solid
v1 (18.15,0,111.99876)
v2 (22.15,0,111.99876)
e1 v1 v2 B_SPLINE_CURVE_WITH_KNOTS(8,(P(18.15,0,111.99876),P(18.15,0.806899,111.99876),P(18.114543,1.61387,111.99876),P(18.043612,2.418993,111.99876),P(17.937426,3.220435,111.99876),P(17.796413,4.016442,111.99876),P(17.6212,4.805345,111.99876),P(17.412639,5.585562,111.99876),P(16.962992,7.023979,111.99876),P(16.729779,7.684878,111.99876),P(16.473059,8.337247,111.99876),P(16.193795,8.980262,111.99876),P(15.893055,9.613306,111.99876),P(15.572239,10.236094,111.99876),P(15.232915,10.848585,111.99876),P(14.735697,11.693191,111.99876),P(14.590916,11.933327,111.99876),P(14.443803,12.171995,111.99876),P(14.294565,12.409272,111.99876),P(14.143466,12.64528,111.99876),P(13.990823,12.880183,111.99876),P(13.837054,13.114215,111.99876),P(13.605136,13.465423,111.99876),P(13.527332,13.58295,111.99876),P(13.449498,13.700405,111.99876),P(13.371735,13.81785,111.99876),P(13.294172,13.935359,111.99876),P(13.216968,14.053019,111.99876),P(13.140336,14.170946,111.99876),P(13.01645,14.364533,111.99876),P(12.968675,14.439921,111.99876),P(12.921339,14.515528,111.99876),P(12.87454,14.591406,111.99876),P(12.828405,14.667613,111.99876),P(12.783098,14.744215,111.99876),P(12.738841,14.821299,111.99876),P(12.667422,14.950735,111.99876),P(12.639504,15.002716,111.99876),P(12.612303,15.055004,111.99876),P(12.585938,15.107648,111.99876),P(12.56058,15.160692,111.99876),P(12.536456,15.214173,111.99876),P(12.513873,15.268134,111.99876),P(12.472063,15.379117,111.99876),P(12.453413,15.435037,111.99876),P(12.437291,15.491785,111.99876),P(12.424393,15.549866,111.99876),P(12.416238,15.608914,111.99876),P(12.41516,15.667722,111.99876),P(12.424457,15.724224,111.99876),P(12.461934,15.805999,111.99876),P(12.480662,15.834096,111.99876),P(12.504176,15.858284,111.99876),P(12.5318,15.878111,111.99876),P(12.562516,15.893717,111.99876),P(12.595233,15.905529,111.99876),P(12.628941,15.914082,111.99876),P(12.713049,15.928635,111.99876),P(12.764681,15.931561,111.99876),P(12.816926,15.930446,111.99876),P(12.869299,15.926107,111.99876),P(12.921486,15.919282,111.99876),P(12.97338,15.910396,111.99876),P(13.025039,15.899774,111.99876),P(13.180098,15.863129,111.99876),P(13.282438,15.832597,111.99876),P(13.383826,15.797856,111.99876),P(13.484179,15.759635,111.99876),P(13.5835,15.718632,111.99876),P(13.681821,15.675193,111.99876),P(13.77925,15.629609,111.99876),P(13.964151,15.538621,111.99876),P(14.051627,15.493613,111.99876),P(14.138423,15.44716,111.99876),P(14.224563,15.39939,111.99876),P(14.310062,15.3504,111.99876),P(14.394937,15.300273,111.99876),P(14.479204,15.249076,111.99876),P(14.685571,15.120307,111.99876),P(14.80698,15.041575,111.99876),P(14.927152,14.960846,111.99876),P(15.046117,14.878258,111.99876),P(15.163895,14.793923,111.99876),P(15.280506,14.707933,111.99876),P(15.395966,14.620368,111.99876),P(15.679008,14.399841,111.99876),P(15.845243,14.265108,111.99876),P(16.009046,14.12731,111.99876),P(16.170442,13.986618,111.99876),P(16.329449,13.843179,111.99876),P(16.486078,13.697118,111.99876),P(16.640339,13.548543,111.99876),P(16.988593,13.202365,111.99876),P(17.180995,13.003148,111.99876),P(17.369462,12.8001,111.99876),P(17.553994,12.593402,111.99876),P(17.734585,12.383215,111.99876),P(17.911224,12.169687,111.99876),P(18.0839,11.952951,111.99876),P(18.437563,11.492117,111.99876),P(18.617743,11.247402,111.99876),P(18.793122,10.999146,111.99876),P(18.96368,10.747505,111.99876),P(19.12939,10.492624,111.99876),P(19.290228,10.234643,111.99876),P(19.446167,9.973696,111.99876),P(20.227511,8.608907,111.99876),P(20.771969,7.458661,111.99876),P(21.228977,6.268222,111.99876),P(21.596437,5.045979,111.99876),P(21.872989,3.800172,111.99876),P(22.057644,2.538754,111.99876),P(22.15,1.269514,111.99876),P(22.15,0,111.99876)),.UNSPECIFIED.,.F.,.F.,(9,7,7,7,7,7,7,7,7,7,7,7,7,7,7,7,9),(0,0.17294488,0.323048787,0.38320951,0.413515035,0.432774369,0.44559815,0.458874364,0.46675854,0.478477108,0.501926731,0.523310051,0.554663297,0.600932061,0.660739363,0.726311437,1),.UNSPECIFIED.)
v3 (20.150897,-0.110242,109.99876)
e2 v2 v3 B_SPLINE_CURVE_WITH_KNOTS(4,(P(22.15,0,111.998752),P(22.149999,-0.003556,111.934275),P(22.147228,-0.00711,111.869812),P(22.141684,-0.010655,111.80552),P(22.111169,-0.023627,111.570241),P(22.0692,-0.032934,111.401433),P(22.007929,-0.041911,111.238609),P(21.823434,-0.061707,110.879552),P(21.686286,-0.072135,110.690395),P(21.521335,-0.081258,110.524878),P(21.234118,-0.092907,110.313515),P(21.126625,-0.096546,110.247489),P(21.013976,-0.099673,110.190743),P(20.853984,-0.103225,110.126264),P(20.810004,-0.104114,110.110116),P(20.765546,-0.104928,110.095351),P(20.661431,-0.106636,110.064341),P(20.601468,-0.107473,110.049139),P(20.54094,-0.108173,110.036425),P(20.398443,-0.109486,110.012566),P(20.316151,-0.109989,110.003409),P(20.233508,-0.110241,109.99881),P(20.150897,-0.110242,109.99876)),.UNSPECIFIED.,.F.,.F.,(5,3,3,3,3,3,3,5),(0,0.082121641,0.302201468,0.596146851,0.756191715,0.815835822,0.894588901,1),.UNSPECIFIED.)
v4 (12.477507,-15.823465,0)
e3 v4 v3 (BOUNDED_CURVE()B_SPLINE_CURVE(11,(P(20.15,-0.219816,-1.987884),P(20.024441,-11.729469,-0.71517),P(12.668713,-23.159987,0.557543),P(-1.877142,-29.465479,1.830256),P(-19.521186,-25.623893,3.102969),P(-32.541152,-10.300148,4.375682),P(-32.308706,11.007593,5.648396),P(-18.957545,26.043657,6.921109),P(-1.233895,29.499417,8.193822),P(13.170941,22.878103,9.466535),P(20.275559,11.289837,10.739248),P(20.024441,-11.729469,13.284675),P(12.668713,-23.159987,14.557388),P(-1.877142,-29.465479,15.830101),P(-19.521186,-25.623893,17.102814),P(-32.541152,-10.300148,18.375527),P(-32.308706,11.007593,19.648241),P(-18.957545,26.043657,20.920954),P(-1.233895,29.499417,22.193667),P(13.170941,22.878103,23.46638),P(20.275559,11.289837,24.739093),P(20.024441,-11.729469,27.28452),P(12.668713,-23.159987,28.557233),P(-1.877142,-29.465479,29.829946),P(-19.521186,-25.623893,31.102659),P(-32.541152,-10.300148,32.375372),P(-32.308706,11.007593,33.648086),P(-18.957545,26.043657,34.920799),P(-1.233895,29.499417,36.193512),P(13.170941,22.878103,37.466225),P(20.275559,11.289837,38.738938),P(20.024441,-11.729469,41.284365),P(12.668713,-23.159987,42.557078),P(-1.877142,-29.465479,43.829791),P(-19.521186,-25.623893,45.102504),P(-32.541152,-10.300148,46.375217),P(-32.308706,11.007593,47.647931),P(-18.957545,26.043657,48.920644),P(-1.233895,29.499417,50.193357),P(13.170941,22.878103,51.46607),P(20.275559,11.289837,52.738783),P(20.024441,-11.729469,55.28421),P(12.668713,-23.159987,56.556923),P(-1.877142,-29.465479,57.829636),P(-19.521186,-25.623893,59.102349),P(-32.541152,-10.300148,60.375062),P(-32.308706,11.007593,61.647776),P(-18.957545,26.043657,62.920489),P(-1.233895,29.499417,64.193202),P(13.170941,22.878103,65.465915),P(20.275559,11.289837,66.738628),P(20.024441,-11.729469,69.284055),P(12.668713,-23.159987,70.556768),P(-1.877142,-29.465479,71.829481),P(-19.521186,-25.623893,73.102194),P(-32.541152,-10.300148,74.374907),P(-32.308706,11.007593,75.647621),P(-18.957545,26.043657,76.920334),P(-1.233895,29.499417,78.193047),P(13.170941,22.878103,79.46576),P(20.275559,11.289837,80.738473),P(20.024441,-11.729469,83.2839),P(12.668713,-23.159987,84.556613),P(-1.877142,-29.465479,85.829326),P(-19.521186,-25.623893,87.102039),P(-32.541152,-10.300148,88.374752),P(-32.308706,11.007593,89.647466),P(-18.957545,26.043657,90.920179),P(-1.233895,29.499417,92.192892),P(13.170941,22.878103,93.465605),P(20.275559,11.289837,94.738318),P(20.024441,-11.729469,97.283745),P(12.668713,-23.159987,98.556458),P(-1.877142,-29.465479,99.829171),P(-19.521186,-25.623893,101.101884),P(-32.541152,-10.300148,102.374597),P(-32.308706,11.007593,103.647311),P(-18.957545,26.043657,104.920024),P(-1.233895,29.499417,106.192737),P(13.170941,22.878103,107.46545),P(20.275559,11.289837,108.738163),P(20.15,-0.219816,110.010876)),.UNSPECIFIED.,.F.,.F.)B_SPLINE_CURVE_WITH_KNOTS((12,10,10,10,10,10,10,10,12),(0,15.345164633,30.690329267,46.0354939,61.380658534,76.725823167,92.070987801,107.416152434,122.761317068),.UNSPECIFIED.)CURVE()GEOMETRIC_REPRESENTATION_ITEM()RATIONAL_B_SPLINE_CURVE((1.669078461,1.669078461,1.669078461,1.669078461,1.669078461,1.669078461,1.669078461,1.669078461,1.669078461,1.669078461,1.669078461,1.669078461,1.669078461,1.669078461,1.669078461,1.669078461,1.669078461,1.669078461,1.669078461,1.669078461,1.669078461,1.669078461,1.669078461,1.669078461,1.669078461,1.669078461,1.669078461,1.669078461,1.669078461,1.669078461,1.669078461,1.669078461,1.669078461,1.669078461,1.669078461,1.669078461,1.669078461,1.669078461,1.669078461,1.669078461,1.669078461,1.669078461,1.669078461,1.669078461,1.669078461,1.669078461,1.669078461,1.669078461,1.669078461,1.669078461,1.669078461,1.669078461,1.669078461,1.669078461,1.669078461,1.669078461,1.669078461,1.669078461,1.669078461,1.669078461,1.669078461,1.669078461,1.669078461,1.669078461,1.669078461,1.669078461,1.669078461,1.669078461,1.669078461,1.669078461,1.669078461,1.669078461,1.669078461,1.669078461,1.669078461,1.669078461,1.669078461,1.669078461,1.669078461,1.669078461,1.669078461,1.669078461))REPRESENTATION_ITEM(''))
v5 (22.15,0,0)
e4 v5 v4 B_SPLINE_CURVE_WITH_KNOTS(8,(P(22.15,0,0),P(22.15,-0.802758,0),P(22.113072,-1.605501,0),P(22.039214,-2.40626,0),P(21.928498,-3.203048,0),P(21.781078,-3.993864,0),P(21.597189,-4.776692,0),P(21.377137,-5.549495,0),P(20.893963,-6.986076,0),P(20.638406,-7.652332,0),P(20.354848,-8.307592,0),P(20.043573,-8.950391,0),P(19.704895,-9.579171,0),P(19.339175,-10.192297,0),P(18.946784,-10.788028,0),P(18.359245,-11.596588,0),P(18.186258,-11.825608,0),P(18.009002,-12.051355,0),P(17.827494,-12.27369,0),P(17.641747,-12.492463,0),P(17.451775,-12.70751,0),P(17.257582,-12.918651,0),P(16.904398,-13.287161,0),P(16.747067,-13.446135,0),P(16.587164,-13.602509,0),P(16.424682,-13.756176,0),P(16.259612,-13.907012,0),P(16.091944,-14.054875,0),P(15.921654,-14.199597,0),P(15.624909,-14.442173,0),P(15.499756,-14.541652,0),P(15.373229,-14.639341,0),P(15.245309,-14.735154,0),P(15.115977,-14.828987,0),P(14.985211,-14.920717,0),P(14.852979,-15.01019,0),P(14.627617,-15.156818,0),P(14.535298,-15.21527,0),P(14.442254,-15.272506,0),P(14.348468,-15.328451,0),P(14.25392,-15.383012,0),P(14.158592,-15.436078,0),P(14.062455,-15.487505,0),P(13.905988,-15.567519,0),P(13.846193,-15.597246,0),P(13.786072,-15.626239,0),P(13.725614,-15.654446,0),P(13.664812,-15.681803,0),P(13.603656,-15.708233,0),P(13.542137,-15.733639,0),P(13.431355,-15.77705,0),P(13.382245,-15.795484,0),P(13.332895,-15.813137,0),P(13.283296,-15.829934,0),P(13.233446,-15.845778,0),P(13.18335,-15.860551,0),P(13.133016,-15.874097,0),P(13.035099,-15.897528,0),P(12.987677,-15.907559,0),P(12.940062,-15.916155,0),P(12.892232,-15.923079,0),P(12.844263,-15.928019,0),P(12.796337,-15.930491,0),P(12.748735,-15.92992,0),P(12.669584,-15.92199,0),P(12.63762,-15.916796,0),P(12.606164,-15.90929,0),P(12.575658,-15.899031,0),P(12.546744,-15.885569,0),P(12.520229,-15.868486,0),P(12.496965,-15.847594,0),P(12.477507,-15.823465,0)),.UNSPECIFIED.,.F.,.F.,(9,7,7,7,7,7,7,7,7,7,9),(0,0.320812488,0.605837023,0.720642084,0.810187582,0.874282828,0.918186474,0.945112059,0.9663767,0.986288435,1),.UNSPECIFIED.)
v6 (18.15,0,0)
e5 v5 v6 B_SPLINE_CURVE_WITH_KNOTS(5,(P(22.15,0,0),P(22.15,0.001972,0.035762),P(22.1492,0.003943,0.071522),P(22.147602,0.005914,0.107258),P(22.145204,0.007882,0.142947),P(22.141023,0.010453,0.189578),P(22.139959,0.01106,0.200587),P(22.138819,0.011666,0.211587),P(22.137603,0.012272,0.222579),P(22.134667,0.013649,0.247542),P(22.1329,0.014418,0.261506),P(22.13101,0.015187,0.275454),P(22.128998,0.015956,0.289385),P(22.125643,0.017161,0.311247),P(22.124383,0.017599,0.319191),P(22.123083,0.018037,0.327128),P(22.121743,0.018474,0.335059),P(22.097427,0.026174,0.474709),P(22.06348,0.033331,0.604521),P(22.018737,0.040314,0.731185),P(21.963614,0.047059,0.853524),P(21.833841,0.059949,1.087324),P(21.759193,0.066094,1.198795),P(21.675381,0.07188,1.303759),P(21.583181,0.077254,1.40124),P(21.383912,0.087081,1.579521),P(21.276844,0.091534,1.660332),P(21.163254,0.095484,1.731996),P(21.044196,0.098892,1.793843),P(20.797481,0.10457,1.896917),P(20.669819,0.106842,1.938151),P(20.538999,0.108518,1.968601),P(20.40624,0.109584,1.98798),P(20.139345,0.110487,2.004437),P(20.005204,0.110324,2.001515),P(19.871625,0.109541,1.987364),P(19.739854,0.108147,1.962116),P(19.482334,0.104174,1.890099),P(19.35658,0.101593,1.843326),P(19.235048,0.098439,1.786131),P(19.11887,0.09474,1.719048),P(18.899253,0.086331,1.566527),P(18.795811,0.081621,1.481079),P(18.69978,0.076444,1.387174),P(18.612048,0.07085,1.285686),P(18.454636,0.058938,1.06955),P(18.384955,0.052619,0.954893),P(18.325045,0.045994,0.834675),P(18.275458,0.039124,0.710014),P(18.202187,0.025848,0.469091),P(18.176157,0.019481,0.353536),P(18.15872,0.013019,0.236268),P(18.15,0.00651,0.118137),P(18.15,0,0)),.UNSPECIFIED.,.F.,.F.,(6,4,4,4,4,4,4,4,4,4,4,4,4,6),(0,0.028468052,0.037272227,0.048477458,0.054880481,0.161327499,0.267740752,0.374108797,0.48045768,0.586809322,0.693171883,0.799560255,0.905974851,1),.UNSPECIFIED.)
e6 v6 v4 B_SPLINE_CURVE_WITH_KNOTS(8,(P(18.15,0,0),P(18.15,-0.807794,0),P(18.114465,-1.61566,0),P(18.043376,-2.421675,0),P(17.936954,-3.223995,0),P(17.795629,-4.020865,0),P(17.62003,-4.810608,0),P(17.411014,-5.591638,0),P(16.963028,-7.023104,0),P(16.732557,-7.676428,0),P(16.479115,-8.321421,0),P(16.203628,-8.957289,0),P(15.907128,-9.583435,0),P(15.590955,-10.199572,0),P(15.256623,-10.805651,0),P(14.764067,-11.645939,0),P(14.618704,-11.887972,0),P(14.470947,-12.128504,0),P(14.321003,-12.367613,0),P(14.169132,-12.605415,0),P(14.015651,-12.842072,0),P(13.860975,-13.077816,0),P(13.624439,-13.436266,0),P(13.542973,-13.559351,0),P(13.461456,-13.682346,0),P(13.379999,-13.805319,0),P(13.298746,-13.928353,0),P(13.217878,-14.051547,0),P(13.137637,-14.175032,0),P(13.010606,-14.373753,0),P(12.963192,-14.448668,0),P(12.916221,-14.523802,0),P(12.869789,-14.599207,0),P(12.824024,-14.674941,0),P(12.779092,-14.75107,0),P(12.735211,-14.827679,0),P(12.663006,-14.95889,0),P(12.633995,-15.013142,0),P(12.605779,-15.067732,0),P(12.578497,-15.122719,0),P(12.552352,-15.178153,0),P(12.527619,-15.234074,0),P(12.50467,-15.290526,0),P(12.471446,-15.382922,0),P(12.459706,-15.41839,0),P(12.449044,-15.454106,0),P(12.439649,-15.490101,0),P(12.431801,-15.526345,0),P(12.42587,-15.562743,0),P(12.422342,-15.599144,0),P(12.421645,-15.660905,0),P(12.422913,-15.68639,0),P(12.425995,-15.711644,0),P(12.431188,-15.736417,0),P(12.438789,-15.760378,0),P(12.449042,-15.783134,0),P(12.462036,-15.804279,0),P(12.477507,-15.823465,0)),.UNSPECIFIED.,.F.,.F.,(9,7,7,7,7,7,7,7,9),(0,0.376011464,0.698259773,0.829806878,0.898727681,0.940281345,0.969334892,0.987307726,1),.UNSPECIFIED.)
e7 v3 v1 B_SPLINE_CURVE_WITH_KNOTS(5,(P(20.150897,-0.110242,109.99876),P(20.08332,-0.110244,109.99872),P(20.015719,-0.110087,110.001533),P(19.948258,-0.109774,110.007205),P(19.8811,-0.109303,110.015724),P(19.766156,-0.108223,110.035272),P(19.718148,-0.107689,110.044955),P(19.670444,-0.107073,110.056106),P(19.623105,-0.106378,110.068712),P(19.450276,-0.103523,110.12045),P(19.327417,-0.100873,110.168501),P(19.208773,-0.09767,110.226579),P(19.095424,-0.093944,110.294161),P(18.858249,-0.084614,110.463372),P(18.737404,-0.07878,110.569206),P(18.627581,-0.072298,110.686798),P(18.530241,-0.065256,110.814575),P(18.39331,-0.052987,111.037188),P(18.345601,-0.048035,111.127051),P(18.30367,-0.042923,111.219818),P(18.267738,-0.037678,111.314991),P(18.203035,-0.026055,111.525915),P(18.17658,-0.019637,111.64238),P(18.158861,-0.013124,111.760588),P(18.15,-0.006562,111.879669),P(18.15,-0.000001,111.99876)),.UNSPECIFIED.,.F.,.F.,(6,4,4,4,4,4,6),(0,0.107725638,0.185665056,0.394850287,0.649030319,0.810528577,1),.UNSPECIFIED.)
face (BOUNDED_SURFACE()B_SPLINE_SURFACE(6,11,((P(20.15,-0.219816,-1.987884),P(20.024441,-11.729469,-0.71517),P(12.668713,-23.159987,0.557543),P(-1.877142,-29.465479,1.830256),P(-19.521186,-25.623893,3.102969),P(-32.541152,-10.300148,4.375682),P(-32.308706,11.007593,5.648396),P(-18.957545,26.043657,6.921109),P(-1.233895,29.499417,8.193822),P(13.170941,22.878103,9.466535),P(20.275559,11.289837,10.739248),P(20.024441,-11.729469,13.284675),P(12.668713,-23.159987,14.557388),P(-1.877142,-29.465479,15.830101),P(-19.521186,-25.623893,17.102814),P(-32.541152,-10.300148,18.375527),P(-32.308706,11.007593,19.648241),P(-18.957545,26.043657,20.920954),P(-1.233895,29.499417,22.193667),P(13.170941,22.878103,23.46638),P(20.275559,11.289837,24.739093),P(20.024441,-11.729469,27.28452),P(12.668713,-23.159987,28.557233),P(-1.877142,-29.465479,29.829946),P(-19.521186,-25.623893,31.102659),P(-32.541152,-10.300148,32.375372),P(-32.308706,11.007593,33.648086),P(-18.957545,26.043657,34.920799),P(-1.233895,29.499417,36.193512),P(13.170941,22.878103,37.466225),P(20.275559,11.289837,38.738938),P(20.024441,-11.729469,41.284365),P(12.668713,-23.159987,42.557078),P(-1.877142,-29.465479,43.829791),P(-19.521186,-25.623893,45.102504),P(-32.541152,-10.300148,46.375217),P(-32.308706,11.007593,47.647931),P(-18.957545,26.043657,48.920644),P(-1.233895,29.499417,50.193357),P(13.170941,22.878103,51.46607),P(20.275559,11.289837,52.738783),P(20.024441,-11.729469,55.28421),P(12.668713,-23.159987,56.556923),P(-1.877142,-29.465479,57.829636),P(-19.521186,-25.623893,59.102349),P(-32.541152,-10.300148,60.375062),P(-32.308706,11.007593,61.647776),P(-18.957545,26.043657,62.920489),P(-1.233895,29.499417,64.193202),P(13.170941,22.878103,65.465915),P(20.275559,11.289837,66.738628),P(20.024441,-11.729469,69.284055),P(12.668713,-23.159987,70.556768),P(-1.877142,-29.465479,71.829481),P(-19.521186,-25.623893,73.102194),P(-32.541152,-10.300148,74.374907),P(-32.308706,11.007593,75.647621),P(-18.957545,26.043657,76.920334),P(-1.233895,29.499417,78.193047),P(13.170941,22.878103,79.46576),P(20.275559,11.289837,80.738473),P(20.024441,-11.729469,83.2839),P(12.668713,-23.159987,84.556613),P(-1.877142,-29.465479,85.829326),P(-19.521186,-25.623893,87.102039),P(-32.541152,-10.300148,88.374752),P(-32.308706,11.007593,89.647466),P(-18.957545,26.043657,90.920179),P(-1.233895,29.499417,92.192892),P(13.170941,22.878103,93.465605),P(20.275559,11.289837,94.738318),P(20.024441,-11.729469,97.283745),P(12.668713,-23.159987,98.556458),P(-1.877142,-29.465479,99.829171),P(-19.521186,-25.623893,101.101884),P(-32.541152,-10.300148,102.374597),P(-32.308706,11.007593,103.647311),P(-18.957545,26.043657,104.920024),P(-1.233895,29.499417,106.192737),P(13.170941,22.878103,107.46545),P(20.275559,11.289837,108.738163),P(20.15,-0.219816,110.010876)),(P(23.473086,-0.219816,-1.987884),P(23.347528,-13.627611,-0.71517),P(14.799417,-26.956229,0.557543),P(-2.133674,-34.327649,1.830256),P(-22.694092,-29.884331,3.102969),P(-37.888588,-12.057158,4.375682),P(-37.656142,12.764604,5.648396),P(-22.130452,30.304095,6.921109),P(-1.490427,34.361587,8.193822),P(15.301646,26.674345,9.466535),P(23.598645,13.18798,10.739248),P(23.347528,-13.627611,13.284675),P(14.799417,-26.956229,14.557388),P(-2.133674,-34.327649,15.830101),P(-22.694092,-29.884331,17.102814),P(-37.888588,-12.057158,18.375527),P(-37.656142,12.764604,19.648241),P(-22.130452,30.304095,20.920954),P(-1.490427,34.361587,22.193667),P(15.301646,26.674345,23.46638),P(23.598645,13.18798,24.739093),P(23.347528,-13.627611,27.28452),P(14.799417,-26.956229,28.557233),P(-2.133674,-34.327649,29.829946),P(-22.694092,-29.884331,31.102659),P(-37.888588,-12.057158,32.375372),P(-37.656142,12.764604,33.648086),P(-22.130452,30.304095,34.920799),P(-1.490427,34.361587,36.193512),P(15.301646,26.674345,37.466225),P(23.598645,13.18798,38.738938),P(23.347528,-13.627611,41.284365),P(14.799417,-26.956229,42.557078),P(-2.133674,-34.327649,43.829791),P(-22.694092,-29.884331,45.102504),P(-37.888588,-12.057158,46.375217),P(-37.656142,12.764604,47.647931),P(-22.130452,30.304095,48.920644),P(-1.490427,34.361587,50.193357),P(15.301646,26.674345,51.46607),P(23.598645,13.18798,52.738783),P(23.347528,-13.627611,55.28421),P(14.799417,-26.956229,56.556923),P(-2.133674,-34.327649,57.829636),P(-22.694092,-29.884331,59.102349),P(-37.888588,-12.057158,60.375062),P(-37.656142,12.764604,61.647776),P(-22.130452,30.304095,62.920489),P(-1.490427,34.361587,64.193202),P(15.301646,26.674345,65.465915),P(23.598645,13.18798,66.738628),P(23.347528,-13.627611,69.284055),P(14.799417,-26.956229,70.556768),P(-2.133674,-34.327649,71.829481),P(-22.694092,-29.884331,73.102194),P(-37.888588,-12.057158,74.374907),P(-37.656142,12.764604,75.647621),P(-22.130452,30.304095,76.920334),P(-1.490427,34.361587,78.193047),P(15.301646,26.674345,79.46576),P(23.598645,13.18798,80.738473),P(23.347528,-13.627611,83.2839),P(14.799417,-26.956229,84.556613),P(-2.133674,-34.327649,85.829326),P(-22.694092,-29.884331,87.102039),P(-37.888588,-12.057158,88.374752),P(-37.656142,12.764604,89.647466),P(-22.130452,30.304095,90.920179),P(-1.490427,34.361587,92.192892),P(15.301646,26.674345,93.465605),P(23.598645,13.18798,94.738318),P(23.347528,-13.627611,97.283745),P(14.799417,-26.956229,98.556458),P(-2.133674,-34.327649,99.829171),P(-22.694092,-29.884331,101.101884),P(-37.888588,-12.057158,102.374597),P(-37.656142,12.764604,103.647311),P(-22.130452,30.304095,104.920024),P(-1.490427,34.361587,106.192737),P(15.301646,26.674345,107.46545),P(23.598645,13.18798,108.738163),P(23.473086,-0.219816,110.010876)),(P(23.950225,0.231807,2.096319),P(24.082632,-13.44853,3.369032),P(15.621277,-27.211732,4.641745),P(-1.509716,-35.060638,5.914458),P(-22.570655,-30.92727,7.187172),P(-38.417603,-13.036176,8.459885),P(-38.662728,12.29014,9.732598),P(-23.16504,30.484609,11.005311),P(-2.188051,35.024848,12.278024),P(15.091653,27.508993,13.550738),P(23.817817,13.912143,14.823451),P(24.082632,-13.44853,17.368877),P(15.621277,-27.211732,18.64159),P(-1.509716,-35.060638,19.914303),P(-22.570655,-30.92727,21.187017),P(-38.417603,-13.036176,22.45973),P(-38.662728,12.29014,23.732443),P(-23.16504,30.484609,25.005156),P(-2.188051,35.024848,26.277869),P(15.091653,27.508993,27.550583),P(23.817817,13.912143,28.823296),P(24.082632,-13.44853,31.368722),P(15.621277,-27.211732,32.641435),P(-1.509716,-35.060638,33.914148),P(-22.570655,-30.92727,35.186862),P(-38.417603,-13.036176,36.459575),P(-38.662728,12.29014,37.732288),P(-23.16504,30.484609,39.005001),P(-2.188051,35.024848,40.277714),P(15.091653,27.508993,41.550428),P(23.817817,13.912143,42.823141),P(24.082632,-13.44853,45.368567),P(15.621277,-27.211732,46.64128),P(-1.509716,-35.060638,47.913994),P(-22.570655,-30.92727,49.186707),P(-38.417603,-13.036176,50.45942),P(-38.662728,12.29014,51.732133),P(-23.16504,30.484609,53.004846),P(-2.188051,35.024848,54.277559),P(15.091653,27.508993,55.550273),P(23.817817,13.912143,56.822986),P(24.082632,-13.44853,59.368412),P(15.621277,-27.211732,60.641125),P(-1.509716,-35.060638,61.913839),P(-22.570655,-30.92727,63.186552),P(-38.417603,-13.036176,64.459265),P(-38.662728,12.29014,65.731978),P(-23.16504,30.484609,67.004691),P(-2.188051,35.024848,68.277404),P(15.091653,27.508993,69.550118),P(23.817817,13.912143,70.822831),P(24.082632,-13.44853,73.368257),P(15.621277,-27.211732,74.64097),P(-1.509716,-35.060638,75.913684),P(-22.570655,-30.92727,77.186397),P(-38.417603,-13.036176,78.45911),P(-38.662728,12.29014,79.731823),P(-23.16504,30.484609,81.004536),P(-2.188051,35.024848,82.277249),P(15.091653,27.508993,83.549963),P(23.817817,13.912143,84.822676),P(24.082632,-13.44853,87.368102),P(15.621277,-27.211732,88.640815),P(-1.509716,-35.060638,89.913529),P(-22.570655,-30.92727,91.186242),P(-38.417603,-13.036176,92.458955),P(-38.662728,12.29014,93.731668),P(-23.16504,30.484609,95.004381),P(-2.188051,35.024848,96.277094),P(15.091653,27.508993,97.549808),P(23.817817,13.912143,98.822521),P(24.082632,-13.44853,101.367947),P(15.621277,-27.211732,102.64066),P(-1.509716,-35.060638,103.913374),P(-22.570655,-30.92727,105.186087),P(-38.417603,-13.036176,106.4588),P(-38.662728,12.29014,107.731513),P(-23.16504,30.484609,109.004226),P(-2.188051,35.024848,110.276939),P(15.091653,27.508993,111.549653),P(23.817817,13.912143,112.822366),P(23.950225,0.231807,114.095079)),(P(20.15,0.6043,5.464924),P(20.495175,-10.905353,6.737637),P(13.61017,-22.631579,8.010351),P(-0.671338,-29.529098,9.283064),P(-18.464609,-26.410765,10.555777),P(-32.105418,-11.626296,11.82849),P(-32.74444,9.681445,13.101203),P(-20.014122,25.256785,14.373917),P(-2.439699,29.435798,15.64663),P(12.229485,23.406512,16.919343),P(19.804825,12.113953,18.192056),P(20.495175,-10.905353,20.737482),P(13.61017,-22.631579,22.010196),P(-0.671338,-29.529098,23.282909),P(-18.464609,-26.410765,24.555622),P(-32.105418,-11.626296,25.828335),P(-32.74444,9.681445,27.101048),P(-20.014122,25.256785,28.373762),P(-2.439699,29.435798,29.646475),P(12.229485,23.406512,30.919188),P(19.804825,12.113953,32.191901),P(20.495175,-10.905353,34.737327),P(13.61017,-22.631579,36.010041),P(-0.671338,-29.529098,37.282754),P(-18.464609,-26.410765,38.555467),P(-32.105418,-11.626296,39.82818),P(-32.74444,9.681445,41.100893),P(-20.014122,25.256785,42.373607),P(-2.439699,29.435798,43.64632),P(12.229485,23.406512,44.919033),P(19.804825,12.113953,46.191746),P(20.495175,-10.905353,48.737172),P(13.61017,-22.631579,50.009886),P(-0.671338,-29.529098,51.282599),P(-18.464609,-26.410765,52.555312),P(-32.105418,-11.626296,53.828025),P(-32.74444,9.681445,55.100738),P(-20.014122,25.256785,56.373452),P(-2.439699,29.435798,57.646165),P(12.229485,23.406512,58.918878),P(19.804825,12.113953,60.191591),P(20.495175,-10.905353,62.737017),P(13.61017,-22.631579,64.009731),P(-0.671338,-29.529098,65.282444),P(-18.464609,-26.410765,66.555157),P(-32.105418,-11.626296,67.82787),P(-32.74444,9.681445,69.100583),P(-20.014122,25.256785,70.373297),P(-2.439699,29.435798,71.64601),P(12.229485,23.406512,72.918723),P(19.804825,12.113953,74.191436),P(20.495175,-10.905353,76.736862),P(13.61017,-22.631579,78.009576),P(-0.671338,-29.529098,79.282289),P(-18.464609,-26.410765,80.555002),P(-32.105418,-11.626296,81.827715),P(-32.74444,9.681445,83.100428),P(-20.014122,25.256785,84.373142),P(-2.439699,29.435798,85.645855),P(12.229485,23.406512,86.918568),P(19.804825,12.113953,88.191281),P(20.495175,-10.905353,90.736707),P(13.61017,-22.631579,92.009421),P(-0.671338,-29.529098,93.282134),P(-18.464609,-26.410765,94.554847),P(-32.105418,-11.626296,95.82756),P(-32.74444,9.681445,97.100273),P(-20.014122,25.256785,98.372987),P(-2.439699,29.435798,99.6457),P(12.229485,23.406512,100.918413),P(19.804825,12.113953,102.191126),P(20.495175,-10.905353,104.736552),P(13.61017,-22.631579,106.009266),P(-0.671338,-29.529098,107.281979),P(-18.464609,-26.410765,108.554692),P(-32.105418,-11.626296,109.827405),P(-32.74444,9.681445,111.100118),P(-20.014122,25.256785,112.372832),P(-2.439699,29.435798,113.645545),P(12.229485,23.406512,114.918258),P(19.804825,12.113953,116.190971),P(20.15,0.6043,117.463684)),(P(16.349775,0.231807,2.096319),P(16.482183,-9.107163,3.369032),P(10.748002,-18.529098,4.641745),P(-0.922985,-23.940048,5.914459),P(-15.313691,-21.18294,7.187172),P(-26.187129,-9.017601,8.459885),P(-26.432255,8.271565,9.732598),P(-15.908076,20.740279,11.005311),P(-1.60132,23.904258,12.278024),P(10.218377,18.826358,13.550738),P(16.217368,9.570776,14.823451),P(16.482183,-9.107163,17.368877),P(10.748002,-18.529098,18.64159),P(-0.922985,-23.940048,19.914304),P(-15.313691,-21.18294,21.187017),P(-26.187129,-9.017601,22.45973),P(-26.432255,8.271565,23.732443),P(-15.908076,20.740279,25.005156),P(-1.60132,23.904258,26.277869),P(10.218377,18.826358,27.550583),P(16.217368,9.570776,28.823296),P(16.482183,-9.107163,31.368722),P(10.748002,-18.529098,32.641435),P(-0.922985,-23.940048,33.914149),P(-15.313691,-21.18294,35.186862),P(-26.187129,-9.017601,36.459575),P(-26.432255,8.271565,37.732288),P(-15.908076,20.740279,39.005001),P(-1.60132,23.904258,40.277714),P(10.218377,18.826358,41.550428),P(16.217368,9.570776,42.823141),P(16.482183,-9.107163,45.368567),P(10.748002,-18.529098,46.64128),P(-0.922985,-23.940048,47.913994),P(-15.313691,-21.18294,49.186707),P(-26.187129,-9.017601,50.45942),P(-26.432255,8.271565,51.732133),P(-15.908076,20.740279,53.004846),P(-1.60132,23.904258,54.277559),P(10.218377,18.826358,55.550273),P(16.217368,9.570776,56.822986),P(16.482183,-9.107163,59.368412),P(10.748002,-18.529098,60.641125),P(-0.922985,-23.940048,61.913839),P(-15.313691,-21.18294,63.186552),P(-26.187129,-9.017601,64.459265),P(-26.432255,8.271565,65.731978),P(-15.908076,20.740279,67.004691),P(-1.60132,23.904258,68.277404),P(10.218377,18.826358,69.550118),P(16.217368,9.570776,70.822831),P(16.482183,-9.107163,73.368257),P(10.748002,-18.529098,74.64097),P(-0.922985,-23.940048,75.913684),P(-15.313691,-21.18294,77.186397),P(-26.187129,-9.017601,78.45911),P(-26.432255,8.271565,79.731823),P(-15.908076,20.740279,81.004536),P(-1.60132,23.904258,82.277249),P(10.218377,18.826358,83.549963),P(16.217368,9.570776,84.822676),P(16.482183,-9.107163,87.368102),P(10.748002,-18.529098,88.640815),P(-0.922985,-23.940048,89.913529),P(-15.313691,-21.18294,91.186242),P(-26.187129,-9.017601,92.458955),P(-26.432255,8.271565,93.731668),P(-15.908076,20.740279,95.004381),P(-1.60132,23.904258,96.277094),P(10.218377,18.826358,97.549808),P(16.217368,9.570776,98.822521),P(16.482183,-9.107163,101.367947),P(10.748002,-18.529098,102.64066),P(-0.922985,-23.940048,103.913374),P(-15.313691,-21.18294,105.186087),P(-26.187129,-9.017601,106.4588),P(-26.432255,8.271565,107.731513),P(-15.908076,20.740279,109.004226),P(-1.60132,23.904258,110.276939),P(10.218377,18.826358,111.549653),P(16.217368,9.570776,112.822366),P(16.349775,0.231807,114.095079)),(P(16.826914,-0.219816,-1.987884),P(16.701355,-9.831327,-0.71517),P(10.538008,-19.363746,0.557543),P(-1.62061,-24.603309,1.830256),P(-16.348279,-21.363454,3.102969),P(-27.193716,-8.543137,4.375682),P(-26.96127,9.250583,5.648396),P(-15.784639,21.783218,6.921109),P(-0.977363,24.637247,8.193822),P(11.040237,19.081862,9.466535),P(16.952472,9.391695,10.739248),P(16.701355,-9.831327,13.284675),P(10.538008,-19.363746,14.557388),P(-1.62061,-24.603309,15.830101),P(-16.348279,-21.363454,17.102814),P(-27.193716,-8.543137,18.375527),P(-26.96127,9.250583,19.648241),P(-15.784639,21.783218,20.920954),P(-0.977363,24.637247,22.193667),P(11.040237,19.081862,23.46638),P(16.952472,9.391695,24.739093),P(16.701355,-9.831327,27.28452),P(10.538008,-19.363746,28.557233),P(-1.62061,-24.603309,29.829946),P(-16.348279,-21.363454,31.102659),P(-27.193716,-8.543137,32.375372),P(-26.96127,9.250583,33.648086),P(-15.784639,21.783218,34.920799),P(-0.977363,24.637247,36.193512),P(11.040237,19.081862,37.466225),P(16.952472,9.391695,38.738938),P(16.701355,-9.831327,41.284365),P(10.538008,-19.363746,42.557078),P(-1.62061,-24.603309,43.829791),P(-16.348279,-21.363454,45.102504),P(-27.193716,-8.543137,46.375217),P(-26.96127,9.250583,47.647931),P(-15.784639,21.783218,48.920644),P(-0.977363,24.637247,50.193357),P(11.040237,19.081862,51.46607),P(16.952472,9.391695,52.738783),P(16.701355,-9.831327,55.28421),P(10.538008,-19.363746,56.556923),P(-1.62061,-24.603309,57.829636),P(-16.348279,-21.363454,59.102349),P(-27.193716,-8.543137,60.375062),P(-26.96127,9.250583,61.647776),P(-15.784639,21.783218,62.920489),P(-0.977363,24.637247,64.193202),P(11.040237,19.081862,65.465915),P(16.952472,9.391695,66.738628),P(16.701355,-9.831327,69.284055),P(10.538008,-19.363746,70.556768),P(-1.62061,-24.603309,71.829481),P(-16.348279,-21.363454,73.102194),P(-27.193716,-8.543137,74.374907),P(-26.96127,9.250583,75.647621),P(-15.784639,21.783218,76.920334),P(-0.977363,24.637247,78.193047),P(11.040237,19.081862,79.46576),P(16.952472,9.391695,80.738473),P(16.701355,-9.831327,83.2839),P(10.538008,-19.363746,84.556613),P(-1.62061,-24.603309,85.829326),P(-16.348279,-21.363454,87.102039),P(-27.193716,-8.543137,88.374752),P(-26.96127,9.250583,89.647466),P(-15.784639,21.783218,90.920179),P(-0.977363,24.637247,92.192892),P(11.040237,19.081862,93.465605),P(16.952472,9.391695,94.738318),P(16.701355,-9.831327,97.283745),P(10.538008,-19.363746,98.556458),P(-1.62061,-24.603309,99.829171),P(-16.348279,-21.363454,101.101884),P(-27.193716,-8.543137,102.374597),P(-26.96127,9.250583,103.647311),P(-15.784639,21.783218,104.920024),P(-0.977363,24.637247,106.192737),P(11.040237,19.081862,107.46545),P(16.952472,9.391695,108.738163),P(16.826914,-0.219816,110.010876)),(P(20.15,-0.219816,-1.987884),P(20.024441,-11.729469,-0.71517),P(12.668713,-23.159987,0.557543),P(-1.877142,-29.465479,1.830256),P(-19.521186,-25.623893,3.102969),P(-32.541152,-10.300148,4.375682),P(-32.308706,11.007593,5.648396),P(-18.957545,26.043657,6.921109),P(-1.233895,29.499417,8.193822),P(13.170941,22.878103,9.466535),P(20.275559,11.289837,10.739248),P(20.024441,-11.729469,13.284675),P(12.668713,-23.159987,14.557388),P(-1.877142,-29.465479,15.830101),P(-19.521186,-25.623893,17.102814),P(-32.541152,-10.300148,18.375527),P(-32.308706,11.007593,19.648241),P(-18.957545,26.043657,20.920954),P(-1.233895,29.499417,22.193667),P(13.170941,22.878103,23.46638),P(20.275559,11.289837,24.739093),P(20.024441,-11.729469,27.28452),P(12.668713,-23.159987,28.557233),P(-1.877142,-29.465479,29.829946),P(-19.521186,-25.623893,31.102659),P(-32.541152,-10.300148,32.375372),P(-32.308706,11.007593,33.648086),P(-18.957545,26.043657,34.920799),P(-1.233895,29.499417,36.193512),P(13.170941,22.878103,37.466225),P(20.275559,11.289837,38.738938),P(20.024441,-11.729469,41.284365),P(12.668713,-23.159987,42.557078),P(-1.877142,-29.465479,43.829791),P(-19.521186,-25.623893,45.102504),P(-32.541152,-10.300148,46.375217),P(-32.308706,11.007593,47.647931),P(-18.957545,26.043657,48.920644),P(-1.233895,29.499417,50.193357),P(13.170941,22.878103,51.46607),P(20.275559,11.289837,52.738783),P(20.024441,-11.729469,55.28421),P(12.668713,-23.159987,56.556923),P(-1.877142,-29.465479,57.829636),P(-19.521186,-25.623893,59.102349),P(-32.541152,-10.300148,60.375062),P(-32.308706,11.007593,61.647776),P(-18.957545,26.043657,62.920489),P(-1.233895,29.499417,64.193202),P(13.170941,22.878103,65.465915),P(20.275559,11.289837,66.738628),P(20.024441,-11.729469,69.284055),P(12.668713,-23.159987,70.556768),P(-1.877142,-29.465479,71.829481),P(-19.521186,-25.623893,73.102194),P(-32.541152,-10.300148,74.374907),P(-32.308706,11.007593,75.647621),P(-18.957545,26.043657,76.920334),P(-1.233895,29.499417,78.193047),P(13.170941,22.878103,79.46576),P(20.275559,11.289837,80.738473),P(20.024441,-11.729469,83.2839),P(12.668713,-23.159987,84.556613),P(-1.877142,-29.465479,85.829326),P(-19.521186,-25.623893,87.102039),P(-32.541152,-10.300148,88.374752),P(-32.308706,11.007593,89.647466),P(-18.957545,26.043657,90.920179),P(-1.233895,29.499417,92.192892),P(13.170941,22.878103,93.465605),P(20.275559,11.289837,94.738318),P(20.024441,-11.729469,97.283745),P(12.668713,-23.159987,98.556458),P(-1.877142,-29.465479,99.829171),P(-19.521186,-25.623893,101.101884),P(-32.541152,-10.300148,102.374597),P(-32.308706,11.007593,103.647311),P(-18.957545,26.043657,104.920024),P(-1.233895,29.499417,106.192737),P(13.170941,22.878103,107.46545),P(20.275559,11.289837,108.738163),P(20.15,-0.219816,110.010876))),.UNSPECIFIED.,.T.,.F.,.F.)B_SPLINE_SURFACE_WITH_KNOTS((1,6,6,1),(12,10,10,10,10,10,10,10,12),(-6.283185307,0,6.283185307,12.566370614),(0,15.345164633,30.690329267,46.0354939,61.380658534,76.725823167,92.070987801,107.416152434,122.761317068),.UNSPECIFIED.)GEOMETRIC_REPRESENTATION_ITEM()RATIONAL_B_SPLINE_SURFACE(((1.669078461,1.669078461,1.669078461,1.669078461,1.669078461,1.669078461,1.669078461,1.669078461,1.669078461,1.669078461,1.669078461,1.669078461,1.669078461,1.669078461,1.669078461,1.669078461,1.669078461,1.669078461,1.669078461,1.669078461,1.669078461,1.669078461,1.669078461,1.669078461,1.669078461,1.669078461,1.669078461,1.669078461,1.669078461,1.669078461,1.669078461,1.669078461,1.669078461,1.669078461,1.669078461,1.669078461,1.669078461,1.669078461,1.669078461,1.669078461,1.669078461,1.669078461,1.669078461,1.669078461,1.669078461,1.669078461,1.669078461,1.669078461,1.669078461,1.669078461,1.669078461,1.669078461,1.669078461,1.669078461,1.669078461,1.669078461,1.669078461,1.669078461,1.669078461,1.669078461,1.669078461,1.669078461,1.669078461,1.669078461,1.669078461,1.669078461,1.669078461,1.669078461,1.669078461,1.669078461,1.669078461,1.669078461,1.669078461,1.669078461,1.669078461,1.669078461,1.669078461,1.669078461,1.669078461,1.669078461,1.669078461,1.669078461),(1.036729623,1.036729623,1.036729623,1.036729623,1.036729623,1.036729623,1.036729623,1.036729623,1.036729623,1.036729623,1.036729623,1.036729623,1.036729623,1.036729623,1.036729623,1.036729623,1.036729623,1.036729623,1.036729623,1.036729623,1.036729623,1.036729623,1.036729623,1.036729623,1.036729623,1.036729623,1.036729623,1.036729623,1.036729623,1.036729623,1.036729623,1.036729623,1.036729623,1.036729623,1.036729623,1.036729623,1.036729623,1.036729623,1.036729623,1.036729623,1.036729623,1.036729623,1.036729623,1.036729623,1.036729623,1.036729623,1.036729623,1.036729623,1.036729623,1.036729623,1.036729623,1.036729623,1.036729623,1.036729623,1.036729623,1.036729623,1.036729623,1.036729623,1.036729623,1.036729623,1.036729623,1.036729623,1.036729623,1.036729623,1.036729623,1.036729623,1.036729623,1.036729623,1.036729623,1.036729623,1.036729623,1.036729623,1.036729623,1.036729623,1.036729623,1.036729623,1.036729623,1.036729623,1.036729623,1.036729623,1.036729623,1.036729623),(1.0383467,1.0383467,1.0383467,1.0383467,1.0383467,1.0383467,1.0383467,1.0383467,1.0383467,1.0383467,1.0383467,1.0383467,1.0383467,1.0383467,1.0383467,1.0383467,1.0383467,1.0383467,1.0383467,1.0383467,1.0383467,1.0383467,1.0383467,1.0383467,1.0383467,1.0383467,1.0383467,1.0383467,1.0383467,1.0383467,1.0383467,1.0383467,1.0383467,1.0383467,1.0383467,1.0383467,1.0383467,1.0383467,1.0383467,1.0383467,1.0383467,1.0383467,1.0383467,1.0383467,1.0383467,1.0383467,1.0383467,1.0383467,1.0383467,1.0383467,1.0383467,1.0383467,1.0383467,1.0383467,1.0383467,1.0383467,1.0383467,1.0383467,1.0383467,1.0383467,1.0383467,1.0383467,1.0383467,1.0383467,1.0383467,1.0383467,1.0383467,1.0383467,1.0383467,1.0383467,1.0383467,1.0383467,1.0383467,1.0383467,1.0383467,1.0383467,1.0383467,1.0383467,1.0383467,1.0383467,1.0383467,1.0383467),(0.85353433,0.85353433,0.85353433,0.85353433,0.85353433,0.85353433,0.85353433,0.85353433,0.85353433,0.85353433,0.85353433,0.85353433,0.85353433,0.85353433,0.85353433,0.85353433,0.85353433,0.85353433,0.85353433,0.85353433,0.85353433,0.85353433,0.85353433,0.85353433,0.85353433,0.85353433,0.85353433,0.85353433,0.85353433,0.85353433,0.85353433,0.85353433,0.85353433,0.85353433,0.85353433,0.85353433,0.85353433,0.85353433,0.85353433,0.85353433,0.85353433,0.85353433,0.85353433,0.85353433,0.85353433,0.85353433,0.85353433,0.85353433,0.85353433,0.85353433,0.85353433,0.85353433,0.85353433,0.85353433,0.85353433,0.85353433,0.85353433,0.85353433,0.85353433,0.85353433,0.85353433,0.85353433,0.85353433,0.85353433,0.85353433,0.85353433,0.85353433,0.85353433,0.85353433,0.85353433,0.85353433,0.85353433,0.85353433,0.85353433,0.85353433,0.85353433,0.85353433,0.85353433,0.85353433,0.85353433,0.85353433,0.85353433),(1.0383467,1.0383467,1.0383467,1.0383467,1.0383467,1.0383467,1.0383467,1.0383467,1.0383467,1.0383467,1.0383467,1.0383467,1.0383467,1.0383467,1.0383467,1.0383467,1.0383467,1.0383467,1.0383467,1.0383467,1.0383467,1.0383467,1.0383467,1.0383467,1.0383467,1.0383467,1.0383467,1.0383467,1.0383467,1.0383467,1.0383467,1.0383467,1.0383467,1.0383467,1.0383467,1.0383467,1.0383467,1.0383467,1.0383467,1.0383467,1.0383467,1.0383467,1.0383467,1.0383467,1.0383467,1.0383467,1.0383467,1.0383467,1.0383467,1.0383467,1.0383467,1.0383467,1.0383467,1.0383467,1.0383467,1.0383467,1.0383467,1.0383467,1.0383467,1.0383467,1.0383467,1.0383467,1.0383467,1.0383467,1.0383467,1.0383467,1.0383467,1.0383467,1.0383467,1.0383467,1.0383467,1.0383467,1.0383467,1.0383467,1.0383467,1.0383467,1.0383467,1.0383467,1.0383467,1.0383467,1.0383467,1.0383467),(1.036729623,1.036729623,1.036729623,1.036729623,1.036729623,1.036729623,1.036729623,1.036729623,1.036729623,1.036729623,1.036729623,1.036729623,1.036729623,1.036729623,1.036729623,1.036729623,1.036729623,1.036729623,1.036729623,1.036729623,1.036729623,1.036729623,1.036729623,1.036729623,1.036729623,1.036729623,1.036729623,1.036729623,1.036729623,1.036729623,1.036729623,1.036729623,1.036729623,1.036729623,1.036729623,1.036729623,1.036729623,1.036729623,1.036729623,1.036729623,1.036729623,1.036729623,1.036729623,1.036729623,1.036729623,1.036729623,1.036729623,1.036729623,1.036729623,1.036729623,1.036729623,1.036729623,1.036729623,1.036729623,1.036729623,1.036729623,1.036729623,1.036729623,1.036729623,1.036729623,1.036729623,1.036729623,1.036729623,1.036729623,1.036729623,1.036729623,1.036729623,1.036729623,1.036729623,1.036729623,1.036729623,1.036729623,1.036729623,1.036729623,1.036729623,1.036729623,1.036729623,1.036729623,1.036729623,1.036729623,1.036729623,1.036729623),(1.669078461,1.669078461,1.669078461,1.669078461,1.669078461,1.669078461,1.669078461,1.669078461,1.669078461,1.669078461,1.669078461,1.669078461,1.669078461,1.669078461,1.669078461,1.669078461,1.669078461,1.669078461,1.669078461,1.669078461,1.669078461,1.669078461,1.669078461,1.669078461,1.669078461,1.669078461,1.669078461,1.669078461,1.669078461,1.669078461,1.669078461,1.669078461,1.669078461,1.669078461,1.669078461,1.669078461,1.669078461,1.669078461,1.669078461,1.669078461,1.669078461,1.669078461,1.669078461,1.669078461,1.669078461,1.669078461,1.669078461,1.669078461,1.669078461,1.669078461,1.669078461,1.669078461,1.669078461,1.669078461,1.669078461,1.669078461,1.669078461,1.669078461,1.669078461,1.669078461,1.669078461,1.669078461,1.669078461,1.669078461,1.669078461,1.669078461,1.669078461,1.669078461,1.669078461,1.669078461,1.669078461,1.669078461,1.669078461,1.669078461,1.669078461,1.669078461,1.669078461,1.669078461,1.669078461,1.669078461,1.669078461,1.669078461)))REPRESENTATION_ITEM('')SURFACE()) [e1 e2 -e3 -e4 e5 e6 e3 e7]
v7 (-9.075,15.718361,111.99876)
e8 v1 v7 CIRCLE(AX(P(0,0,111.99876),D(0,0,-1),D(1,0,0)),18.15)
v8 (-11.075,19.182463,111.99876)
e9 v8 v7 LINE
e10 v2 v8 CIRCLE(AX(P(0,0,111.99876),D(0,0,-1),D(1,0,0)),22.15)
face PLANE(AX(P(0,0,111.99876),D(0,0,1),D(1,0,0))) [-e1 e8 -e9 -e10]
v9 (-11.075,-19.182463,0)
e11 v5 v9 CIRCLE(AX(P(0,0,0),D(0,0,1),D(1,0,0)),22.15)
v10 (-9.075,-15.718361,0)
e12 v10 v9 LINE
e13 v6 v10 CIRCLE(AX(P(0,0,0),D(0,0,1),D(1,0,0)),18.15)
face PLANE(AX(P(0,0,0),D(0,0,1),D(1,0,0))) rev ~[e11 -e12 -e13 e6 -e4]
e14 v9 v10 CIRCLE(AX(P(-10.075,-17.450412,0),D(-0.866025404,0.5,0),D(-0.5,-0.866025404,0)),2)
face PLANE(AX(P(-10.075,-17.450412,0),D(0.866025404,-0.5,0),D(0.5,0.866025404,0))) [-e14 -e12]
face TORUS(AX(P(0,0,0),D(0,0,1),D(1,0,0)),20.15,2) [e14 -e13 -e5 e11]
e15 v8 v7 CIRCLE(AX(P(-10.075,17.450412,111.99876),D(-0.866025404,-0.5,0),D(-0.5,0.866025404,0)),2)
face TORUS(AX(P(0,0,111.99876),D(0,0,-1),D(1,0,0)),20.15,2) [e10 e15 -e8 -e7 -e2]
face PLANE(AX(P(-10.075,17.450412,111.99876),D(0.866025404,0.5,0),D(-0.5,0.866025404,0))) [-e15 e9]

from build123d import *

# Parameters (mm, degrees)
SWEEP1_PITCH       = 13.999845
SWEEP1_HEIGHT      = 111.99876
SWEEP1_RADIUS      = 20.15
SWEEP1_PROFILE_R   = 2
SWEEP2_PROFILE_R   = 2
SKETCH41_R         = 25
CUT_EXTRUDE1_DEPTH = 119.212520214
SWEEP3_PROFILE_R   = 2
SKETCH55_R         = 25
CUT_EXTRUDE2_DEPTH = 119.212520214


with BuildPart() as part:
    # Sweep1: sweep along a helix
    with BuildLine() as sweep1_path:
        Helix(SWEEP1_PITCH, SWEEP1_HEIGHT, SWEEP1_RADIUS, center=(0, 0, 0), direction=(0, 0, 1), lefthand=True)
    # Sweep1 profile (on start of the path) → Sweep1 (sweep)
    with BuildSketch(Plane(origin=(20.15, 0, 0), x_dir=(0, -0.10990798579701415, -0.9939417662308208), z_dir=(2.0331849540850006e-13, -0.9939417662308208, 0.10990798579701415))):
        Circle(SWEEP1_PROFILE_R)
    sweep(path=sweep1_path.line, is_frenet=True)

    # Sweep2: sweep along a path in Sketch10
    with BuildLine(Plane.XY.offset(111.99876)) as sweep2_path:
        ThreePointArc((20.15, 0), (-10.075, -17.450411886), (-10.075, 17.450411886))
    # Sweep2 profile (on start of the path) → Sweep2 (sweep)
    with BuildSketch(Plane(origin=(20.15, 0, 111.99876), x_dir=(-1, 0, 0), z_dir=(0, -1, 0))):
        Circle(SWEEP2_PROFILE_R)
    sweep(path=sweep2_path.line)

    # Sketch41 → Cut-Extrude1 (cut, through all)
    with BuildSketch(Plane.XY.offset(111.99876)):
        Circle(SKETCH41_R)
    extrude(amount=CUT_EXTRUDE1_DEPTH, mode=Mode.SUBTRACT)

    # Sweep3: sweep along a path in Sketch42
    with BuildLine(Plane.XY) as sweep3_path:
        ThreePointArc((20.15, 0), (-10.075, 17.450411886), (-10.075, -17.450411886))
    # Sweep3 profile (on start of the path) → Sweep3 (sweep)
    with BuildSketch(Plane(origin=(20.15, 0, 0), x_dir=(1, 0, 0), z_dir=(0, 1, 0))):
        Circle(SWEEP3_PROFILE_R)
    sweep(path=sweep3_path.line)

    # Sketch55 → Cut-Extrude2 (cut, through all)
    with BuildSketch(Plane.XY):
        Circle(SKETCH55_R)
    extrude(amount=-CUT_EXTRUDE2_DEPTH, mode=Mode.SUBTRACT)


solid = part.part
